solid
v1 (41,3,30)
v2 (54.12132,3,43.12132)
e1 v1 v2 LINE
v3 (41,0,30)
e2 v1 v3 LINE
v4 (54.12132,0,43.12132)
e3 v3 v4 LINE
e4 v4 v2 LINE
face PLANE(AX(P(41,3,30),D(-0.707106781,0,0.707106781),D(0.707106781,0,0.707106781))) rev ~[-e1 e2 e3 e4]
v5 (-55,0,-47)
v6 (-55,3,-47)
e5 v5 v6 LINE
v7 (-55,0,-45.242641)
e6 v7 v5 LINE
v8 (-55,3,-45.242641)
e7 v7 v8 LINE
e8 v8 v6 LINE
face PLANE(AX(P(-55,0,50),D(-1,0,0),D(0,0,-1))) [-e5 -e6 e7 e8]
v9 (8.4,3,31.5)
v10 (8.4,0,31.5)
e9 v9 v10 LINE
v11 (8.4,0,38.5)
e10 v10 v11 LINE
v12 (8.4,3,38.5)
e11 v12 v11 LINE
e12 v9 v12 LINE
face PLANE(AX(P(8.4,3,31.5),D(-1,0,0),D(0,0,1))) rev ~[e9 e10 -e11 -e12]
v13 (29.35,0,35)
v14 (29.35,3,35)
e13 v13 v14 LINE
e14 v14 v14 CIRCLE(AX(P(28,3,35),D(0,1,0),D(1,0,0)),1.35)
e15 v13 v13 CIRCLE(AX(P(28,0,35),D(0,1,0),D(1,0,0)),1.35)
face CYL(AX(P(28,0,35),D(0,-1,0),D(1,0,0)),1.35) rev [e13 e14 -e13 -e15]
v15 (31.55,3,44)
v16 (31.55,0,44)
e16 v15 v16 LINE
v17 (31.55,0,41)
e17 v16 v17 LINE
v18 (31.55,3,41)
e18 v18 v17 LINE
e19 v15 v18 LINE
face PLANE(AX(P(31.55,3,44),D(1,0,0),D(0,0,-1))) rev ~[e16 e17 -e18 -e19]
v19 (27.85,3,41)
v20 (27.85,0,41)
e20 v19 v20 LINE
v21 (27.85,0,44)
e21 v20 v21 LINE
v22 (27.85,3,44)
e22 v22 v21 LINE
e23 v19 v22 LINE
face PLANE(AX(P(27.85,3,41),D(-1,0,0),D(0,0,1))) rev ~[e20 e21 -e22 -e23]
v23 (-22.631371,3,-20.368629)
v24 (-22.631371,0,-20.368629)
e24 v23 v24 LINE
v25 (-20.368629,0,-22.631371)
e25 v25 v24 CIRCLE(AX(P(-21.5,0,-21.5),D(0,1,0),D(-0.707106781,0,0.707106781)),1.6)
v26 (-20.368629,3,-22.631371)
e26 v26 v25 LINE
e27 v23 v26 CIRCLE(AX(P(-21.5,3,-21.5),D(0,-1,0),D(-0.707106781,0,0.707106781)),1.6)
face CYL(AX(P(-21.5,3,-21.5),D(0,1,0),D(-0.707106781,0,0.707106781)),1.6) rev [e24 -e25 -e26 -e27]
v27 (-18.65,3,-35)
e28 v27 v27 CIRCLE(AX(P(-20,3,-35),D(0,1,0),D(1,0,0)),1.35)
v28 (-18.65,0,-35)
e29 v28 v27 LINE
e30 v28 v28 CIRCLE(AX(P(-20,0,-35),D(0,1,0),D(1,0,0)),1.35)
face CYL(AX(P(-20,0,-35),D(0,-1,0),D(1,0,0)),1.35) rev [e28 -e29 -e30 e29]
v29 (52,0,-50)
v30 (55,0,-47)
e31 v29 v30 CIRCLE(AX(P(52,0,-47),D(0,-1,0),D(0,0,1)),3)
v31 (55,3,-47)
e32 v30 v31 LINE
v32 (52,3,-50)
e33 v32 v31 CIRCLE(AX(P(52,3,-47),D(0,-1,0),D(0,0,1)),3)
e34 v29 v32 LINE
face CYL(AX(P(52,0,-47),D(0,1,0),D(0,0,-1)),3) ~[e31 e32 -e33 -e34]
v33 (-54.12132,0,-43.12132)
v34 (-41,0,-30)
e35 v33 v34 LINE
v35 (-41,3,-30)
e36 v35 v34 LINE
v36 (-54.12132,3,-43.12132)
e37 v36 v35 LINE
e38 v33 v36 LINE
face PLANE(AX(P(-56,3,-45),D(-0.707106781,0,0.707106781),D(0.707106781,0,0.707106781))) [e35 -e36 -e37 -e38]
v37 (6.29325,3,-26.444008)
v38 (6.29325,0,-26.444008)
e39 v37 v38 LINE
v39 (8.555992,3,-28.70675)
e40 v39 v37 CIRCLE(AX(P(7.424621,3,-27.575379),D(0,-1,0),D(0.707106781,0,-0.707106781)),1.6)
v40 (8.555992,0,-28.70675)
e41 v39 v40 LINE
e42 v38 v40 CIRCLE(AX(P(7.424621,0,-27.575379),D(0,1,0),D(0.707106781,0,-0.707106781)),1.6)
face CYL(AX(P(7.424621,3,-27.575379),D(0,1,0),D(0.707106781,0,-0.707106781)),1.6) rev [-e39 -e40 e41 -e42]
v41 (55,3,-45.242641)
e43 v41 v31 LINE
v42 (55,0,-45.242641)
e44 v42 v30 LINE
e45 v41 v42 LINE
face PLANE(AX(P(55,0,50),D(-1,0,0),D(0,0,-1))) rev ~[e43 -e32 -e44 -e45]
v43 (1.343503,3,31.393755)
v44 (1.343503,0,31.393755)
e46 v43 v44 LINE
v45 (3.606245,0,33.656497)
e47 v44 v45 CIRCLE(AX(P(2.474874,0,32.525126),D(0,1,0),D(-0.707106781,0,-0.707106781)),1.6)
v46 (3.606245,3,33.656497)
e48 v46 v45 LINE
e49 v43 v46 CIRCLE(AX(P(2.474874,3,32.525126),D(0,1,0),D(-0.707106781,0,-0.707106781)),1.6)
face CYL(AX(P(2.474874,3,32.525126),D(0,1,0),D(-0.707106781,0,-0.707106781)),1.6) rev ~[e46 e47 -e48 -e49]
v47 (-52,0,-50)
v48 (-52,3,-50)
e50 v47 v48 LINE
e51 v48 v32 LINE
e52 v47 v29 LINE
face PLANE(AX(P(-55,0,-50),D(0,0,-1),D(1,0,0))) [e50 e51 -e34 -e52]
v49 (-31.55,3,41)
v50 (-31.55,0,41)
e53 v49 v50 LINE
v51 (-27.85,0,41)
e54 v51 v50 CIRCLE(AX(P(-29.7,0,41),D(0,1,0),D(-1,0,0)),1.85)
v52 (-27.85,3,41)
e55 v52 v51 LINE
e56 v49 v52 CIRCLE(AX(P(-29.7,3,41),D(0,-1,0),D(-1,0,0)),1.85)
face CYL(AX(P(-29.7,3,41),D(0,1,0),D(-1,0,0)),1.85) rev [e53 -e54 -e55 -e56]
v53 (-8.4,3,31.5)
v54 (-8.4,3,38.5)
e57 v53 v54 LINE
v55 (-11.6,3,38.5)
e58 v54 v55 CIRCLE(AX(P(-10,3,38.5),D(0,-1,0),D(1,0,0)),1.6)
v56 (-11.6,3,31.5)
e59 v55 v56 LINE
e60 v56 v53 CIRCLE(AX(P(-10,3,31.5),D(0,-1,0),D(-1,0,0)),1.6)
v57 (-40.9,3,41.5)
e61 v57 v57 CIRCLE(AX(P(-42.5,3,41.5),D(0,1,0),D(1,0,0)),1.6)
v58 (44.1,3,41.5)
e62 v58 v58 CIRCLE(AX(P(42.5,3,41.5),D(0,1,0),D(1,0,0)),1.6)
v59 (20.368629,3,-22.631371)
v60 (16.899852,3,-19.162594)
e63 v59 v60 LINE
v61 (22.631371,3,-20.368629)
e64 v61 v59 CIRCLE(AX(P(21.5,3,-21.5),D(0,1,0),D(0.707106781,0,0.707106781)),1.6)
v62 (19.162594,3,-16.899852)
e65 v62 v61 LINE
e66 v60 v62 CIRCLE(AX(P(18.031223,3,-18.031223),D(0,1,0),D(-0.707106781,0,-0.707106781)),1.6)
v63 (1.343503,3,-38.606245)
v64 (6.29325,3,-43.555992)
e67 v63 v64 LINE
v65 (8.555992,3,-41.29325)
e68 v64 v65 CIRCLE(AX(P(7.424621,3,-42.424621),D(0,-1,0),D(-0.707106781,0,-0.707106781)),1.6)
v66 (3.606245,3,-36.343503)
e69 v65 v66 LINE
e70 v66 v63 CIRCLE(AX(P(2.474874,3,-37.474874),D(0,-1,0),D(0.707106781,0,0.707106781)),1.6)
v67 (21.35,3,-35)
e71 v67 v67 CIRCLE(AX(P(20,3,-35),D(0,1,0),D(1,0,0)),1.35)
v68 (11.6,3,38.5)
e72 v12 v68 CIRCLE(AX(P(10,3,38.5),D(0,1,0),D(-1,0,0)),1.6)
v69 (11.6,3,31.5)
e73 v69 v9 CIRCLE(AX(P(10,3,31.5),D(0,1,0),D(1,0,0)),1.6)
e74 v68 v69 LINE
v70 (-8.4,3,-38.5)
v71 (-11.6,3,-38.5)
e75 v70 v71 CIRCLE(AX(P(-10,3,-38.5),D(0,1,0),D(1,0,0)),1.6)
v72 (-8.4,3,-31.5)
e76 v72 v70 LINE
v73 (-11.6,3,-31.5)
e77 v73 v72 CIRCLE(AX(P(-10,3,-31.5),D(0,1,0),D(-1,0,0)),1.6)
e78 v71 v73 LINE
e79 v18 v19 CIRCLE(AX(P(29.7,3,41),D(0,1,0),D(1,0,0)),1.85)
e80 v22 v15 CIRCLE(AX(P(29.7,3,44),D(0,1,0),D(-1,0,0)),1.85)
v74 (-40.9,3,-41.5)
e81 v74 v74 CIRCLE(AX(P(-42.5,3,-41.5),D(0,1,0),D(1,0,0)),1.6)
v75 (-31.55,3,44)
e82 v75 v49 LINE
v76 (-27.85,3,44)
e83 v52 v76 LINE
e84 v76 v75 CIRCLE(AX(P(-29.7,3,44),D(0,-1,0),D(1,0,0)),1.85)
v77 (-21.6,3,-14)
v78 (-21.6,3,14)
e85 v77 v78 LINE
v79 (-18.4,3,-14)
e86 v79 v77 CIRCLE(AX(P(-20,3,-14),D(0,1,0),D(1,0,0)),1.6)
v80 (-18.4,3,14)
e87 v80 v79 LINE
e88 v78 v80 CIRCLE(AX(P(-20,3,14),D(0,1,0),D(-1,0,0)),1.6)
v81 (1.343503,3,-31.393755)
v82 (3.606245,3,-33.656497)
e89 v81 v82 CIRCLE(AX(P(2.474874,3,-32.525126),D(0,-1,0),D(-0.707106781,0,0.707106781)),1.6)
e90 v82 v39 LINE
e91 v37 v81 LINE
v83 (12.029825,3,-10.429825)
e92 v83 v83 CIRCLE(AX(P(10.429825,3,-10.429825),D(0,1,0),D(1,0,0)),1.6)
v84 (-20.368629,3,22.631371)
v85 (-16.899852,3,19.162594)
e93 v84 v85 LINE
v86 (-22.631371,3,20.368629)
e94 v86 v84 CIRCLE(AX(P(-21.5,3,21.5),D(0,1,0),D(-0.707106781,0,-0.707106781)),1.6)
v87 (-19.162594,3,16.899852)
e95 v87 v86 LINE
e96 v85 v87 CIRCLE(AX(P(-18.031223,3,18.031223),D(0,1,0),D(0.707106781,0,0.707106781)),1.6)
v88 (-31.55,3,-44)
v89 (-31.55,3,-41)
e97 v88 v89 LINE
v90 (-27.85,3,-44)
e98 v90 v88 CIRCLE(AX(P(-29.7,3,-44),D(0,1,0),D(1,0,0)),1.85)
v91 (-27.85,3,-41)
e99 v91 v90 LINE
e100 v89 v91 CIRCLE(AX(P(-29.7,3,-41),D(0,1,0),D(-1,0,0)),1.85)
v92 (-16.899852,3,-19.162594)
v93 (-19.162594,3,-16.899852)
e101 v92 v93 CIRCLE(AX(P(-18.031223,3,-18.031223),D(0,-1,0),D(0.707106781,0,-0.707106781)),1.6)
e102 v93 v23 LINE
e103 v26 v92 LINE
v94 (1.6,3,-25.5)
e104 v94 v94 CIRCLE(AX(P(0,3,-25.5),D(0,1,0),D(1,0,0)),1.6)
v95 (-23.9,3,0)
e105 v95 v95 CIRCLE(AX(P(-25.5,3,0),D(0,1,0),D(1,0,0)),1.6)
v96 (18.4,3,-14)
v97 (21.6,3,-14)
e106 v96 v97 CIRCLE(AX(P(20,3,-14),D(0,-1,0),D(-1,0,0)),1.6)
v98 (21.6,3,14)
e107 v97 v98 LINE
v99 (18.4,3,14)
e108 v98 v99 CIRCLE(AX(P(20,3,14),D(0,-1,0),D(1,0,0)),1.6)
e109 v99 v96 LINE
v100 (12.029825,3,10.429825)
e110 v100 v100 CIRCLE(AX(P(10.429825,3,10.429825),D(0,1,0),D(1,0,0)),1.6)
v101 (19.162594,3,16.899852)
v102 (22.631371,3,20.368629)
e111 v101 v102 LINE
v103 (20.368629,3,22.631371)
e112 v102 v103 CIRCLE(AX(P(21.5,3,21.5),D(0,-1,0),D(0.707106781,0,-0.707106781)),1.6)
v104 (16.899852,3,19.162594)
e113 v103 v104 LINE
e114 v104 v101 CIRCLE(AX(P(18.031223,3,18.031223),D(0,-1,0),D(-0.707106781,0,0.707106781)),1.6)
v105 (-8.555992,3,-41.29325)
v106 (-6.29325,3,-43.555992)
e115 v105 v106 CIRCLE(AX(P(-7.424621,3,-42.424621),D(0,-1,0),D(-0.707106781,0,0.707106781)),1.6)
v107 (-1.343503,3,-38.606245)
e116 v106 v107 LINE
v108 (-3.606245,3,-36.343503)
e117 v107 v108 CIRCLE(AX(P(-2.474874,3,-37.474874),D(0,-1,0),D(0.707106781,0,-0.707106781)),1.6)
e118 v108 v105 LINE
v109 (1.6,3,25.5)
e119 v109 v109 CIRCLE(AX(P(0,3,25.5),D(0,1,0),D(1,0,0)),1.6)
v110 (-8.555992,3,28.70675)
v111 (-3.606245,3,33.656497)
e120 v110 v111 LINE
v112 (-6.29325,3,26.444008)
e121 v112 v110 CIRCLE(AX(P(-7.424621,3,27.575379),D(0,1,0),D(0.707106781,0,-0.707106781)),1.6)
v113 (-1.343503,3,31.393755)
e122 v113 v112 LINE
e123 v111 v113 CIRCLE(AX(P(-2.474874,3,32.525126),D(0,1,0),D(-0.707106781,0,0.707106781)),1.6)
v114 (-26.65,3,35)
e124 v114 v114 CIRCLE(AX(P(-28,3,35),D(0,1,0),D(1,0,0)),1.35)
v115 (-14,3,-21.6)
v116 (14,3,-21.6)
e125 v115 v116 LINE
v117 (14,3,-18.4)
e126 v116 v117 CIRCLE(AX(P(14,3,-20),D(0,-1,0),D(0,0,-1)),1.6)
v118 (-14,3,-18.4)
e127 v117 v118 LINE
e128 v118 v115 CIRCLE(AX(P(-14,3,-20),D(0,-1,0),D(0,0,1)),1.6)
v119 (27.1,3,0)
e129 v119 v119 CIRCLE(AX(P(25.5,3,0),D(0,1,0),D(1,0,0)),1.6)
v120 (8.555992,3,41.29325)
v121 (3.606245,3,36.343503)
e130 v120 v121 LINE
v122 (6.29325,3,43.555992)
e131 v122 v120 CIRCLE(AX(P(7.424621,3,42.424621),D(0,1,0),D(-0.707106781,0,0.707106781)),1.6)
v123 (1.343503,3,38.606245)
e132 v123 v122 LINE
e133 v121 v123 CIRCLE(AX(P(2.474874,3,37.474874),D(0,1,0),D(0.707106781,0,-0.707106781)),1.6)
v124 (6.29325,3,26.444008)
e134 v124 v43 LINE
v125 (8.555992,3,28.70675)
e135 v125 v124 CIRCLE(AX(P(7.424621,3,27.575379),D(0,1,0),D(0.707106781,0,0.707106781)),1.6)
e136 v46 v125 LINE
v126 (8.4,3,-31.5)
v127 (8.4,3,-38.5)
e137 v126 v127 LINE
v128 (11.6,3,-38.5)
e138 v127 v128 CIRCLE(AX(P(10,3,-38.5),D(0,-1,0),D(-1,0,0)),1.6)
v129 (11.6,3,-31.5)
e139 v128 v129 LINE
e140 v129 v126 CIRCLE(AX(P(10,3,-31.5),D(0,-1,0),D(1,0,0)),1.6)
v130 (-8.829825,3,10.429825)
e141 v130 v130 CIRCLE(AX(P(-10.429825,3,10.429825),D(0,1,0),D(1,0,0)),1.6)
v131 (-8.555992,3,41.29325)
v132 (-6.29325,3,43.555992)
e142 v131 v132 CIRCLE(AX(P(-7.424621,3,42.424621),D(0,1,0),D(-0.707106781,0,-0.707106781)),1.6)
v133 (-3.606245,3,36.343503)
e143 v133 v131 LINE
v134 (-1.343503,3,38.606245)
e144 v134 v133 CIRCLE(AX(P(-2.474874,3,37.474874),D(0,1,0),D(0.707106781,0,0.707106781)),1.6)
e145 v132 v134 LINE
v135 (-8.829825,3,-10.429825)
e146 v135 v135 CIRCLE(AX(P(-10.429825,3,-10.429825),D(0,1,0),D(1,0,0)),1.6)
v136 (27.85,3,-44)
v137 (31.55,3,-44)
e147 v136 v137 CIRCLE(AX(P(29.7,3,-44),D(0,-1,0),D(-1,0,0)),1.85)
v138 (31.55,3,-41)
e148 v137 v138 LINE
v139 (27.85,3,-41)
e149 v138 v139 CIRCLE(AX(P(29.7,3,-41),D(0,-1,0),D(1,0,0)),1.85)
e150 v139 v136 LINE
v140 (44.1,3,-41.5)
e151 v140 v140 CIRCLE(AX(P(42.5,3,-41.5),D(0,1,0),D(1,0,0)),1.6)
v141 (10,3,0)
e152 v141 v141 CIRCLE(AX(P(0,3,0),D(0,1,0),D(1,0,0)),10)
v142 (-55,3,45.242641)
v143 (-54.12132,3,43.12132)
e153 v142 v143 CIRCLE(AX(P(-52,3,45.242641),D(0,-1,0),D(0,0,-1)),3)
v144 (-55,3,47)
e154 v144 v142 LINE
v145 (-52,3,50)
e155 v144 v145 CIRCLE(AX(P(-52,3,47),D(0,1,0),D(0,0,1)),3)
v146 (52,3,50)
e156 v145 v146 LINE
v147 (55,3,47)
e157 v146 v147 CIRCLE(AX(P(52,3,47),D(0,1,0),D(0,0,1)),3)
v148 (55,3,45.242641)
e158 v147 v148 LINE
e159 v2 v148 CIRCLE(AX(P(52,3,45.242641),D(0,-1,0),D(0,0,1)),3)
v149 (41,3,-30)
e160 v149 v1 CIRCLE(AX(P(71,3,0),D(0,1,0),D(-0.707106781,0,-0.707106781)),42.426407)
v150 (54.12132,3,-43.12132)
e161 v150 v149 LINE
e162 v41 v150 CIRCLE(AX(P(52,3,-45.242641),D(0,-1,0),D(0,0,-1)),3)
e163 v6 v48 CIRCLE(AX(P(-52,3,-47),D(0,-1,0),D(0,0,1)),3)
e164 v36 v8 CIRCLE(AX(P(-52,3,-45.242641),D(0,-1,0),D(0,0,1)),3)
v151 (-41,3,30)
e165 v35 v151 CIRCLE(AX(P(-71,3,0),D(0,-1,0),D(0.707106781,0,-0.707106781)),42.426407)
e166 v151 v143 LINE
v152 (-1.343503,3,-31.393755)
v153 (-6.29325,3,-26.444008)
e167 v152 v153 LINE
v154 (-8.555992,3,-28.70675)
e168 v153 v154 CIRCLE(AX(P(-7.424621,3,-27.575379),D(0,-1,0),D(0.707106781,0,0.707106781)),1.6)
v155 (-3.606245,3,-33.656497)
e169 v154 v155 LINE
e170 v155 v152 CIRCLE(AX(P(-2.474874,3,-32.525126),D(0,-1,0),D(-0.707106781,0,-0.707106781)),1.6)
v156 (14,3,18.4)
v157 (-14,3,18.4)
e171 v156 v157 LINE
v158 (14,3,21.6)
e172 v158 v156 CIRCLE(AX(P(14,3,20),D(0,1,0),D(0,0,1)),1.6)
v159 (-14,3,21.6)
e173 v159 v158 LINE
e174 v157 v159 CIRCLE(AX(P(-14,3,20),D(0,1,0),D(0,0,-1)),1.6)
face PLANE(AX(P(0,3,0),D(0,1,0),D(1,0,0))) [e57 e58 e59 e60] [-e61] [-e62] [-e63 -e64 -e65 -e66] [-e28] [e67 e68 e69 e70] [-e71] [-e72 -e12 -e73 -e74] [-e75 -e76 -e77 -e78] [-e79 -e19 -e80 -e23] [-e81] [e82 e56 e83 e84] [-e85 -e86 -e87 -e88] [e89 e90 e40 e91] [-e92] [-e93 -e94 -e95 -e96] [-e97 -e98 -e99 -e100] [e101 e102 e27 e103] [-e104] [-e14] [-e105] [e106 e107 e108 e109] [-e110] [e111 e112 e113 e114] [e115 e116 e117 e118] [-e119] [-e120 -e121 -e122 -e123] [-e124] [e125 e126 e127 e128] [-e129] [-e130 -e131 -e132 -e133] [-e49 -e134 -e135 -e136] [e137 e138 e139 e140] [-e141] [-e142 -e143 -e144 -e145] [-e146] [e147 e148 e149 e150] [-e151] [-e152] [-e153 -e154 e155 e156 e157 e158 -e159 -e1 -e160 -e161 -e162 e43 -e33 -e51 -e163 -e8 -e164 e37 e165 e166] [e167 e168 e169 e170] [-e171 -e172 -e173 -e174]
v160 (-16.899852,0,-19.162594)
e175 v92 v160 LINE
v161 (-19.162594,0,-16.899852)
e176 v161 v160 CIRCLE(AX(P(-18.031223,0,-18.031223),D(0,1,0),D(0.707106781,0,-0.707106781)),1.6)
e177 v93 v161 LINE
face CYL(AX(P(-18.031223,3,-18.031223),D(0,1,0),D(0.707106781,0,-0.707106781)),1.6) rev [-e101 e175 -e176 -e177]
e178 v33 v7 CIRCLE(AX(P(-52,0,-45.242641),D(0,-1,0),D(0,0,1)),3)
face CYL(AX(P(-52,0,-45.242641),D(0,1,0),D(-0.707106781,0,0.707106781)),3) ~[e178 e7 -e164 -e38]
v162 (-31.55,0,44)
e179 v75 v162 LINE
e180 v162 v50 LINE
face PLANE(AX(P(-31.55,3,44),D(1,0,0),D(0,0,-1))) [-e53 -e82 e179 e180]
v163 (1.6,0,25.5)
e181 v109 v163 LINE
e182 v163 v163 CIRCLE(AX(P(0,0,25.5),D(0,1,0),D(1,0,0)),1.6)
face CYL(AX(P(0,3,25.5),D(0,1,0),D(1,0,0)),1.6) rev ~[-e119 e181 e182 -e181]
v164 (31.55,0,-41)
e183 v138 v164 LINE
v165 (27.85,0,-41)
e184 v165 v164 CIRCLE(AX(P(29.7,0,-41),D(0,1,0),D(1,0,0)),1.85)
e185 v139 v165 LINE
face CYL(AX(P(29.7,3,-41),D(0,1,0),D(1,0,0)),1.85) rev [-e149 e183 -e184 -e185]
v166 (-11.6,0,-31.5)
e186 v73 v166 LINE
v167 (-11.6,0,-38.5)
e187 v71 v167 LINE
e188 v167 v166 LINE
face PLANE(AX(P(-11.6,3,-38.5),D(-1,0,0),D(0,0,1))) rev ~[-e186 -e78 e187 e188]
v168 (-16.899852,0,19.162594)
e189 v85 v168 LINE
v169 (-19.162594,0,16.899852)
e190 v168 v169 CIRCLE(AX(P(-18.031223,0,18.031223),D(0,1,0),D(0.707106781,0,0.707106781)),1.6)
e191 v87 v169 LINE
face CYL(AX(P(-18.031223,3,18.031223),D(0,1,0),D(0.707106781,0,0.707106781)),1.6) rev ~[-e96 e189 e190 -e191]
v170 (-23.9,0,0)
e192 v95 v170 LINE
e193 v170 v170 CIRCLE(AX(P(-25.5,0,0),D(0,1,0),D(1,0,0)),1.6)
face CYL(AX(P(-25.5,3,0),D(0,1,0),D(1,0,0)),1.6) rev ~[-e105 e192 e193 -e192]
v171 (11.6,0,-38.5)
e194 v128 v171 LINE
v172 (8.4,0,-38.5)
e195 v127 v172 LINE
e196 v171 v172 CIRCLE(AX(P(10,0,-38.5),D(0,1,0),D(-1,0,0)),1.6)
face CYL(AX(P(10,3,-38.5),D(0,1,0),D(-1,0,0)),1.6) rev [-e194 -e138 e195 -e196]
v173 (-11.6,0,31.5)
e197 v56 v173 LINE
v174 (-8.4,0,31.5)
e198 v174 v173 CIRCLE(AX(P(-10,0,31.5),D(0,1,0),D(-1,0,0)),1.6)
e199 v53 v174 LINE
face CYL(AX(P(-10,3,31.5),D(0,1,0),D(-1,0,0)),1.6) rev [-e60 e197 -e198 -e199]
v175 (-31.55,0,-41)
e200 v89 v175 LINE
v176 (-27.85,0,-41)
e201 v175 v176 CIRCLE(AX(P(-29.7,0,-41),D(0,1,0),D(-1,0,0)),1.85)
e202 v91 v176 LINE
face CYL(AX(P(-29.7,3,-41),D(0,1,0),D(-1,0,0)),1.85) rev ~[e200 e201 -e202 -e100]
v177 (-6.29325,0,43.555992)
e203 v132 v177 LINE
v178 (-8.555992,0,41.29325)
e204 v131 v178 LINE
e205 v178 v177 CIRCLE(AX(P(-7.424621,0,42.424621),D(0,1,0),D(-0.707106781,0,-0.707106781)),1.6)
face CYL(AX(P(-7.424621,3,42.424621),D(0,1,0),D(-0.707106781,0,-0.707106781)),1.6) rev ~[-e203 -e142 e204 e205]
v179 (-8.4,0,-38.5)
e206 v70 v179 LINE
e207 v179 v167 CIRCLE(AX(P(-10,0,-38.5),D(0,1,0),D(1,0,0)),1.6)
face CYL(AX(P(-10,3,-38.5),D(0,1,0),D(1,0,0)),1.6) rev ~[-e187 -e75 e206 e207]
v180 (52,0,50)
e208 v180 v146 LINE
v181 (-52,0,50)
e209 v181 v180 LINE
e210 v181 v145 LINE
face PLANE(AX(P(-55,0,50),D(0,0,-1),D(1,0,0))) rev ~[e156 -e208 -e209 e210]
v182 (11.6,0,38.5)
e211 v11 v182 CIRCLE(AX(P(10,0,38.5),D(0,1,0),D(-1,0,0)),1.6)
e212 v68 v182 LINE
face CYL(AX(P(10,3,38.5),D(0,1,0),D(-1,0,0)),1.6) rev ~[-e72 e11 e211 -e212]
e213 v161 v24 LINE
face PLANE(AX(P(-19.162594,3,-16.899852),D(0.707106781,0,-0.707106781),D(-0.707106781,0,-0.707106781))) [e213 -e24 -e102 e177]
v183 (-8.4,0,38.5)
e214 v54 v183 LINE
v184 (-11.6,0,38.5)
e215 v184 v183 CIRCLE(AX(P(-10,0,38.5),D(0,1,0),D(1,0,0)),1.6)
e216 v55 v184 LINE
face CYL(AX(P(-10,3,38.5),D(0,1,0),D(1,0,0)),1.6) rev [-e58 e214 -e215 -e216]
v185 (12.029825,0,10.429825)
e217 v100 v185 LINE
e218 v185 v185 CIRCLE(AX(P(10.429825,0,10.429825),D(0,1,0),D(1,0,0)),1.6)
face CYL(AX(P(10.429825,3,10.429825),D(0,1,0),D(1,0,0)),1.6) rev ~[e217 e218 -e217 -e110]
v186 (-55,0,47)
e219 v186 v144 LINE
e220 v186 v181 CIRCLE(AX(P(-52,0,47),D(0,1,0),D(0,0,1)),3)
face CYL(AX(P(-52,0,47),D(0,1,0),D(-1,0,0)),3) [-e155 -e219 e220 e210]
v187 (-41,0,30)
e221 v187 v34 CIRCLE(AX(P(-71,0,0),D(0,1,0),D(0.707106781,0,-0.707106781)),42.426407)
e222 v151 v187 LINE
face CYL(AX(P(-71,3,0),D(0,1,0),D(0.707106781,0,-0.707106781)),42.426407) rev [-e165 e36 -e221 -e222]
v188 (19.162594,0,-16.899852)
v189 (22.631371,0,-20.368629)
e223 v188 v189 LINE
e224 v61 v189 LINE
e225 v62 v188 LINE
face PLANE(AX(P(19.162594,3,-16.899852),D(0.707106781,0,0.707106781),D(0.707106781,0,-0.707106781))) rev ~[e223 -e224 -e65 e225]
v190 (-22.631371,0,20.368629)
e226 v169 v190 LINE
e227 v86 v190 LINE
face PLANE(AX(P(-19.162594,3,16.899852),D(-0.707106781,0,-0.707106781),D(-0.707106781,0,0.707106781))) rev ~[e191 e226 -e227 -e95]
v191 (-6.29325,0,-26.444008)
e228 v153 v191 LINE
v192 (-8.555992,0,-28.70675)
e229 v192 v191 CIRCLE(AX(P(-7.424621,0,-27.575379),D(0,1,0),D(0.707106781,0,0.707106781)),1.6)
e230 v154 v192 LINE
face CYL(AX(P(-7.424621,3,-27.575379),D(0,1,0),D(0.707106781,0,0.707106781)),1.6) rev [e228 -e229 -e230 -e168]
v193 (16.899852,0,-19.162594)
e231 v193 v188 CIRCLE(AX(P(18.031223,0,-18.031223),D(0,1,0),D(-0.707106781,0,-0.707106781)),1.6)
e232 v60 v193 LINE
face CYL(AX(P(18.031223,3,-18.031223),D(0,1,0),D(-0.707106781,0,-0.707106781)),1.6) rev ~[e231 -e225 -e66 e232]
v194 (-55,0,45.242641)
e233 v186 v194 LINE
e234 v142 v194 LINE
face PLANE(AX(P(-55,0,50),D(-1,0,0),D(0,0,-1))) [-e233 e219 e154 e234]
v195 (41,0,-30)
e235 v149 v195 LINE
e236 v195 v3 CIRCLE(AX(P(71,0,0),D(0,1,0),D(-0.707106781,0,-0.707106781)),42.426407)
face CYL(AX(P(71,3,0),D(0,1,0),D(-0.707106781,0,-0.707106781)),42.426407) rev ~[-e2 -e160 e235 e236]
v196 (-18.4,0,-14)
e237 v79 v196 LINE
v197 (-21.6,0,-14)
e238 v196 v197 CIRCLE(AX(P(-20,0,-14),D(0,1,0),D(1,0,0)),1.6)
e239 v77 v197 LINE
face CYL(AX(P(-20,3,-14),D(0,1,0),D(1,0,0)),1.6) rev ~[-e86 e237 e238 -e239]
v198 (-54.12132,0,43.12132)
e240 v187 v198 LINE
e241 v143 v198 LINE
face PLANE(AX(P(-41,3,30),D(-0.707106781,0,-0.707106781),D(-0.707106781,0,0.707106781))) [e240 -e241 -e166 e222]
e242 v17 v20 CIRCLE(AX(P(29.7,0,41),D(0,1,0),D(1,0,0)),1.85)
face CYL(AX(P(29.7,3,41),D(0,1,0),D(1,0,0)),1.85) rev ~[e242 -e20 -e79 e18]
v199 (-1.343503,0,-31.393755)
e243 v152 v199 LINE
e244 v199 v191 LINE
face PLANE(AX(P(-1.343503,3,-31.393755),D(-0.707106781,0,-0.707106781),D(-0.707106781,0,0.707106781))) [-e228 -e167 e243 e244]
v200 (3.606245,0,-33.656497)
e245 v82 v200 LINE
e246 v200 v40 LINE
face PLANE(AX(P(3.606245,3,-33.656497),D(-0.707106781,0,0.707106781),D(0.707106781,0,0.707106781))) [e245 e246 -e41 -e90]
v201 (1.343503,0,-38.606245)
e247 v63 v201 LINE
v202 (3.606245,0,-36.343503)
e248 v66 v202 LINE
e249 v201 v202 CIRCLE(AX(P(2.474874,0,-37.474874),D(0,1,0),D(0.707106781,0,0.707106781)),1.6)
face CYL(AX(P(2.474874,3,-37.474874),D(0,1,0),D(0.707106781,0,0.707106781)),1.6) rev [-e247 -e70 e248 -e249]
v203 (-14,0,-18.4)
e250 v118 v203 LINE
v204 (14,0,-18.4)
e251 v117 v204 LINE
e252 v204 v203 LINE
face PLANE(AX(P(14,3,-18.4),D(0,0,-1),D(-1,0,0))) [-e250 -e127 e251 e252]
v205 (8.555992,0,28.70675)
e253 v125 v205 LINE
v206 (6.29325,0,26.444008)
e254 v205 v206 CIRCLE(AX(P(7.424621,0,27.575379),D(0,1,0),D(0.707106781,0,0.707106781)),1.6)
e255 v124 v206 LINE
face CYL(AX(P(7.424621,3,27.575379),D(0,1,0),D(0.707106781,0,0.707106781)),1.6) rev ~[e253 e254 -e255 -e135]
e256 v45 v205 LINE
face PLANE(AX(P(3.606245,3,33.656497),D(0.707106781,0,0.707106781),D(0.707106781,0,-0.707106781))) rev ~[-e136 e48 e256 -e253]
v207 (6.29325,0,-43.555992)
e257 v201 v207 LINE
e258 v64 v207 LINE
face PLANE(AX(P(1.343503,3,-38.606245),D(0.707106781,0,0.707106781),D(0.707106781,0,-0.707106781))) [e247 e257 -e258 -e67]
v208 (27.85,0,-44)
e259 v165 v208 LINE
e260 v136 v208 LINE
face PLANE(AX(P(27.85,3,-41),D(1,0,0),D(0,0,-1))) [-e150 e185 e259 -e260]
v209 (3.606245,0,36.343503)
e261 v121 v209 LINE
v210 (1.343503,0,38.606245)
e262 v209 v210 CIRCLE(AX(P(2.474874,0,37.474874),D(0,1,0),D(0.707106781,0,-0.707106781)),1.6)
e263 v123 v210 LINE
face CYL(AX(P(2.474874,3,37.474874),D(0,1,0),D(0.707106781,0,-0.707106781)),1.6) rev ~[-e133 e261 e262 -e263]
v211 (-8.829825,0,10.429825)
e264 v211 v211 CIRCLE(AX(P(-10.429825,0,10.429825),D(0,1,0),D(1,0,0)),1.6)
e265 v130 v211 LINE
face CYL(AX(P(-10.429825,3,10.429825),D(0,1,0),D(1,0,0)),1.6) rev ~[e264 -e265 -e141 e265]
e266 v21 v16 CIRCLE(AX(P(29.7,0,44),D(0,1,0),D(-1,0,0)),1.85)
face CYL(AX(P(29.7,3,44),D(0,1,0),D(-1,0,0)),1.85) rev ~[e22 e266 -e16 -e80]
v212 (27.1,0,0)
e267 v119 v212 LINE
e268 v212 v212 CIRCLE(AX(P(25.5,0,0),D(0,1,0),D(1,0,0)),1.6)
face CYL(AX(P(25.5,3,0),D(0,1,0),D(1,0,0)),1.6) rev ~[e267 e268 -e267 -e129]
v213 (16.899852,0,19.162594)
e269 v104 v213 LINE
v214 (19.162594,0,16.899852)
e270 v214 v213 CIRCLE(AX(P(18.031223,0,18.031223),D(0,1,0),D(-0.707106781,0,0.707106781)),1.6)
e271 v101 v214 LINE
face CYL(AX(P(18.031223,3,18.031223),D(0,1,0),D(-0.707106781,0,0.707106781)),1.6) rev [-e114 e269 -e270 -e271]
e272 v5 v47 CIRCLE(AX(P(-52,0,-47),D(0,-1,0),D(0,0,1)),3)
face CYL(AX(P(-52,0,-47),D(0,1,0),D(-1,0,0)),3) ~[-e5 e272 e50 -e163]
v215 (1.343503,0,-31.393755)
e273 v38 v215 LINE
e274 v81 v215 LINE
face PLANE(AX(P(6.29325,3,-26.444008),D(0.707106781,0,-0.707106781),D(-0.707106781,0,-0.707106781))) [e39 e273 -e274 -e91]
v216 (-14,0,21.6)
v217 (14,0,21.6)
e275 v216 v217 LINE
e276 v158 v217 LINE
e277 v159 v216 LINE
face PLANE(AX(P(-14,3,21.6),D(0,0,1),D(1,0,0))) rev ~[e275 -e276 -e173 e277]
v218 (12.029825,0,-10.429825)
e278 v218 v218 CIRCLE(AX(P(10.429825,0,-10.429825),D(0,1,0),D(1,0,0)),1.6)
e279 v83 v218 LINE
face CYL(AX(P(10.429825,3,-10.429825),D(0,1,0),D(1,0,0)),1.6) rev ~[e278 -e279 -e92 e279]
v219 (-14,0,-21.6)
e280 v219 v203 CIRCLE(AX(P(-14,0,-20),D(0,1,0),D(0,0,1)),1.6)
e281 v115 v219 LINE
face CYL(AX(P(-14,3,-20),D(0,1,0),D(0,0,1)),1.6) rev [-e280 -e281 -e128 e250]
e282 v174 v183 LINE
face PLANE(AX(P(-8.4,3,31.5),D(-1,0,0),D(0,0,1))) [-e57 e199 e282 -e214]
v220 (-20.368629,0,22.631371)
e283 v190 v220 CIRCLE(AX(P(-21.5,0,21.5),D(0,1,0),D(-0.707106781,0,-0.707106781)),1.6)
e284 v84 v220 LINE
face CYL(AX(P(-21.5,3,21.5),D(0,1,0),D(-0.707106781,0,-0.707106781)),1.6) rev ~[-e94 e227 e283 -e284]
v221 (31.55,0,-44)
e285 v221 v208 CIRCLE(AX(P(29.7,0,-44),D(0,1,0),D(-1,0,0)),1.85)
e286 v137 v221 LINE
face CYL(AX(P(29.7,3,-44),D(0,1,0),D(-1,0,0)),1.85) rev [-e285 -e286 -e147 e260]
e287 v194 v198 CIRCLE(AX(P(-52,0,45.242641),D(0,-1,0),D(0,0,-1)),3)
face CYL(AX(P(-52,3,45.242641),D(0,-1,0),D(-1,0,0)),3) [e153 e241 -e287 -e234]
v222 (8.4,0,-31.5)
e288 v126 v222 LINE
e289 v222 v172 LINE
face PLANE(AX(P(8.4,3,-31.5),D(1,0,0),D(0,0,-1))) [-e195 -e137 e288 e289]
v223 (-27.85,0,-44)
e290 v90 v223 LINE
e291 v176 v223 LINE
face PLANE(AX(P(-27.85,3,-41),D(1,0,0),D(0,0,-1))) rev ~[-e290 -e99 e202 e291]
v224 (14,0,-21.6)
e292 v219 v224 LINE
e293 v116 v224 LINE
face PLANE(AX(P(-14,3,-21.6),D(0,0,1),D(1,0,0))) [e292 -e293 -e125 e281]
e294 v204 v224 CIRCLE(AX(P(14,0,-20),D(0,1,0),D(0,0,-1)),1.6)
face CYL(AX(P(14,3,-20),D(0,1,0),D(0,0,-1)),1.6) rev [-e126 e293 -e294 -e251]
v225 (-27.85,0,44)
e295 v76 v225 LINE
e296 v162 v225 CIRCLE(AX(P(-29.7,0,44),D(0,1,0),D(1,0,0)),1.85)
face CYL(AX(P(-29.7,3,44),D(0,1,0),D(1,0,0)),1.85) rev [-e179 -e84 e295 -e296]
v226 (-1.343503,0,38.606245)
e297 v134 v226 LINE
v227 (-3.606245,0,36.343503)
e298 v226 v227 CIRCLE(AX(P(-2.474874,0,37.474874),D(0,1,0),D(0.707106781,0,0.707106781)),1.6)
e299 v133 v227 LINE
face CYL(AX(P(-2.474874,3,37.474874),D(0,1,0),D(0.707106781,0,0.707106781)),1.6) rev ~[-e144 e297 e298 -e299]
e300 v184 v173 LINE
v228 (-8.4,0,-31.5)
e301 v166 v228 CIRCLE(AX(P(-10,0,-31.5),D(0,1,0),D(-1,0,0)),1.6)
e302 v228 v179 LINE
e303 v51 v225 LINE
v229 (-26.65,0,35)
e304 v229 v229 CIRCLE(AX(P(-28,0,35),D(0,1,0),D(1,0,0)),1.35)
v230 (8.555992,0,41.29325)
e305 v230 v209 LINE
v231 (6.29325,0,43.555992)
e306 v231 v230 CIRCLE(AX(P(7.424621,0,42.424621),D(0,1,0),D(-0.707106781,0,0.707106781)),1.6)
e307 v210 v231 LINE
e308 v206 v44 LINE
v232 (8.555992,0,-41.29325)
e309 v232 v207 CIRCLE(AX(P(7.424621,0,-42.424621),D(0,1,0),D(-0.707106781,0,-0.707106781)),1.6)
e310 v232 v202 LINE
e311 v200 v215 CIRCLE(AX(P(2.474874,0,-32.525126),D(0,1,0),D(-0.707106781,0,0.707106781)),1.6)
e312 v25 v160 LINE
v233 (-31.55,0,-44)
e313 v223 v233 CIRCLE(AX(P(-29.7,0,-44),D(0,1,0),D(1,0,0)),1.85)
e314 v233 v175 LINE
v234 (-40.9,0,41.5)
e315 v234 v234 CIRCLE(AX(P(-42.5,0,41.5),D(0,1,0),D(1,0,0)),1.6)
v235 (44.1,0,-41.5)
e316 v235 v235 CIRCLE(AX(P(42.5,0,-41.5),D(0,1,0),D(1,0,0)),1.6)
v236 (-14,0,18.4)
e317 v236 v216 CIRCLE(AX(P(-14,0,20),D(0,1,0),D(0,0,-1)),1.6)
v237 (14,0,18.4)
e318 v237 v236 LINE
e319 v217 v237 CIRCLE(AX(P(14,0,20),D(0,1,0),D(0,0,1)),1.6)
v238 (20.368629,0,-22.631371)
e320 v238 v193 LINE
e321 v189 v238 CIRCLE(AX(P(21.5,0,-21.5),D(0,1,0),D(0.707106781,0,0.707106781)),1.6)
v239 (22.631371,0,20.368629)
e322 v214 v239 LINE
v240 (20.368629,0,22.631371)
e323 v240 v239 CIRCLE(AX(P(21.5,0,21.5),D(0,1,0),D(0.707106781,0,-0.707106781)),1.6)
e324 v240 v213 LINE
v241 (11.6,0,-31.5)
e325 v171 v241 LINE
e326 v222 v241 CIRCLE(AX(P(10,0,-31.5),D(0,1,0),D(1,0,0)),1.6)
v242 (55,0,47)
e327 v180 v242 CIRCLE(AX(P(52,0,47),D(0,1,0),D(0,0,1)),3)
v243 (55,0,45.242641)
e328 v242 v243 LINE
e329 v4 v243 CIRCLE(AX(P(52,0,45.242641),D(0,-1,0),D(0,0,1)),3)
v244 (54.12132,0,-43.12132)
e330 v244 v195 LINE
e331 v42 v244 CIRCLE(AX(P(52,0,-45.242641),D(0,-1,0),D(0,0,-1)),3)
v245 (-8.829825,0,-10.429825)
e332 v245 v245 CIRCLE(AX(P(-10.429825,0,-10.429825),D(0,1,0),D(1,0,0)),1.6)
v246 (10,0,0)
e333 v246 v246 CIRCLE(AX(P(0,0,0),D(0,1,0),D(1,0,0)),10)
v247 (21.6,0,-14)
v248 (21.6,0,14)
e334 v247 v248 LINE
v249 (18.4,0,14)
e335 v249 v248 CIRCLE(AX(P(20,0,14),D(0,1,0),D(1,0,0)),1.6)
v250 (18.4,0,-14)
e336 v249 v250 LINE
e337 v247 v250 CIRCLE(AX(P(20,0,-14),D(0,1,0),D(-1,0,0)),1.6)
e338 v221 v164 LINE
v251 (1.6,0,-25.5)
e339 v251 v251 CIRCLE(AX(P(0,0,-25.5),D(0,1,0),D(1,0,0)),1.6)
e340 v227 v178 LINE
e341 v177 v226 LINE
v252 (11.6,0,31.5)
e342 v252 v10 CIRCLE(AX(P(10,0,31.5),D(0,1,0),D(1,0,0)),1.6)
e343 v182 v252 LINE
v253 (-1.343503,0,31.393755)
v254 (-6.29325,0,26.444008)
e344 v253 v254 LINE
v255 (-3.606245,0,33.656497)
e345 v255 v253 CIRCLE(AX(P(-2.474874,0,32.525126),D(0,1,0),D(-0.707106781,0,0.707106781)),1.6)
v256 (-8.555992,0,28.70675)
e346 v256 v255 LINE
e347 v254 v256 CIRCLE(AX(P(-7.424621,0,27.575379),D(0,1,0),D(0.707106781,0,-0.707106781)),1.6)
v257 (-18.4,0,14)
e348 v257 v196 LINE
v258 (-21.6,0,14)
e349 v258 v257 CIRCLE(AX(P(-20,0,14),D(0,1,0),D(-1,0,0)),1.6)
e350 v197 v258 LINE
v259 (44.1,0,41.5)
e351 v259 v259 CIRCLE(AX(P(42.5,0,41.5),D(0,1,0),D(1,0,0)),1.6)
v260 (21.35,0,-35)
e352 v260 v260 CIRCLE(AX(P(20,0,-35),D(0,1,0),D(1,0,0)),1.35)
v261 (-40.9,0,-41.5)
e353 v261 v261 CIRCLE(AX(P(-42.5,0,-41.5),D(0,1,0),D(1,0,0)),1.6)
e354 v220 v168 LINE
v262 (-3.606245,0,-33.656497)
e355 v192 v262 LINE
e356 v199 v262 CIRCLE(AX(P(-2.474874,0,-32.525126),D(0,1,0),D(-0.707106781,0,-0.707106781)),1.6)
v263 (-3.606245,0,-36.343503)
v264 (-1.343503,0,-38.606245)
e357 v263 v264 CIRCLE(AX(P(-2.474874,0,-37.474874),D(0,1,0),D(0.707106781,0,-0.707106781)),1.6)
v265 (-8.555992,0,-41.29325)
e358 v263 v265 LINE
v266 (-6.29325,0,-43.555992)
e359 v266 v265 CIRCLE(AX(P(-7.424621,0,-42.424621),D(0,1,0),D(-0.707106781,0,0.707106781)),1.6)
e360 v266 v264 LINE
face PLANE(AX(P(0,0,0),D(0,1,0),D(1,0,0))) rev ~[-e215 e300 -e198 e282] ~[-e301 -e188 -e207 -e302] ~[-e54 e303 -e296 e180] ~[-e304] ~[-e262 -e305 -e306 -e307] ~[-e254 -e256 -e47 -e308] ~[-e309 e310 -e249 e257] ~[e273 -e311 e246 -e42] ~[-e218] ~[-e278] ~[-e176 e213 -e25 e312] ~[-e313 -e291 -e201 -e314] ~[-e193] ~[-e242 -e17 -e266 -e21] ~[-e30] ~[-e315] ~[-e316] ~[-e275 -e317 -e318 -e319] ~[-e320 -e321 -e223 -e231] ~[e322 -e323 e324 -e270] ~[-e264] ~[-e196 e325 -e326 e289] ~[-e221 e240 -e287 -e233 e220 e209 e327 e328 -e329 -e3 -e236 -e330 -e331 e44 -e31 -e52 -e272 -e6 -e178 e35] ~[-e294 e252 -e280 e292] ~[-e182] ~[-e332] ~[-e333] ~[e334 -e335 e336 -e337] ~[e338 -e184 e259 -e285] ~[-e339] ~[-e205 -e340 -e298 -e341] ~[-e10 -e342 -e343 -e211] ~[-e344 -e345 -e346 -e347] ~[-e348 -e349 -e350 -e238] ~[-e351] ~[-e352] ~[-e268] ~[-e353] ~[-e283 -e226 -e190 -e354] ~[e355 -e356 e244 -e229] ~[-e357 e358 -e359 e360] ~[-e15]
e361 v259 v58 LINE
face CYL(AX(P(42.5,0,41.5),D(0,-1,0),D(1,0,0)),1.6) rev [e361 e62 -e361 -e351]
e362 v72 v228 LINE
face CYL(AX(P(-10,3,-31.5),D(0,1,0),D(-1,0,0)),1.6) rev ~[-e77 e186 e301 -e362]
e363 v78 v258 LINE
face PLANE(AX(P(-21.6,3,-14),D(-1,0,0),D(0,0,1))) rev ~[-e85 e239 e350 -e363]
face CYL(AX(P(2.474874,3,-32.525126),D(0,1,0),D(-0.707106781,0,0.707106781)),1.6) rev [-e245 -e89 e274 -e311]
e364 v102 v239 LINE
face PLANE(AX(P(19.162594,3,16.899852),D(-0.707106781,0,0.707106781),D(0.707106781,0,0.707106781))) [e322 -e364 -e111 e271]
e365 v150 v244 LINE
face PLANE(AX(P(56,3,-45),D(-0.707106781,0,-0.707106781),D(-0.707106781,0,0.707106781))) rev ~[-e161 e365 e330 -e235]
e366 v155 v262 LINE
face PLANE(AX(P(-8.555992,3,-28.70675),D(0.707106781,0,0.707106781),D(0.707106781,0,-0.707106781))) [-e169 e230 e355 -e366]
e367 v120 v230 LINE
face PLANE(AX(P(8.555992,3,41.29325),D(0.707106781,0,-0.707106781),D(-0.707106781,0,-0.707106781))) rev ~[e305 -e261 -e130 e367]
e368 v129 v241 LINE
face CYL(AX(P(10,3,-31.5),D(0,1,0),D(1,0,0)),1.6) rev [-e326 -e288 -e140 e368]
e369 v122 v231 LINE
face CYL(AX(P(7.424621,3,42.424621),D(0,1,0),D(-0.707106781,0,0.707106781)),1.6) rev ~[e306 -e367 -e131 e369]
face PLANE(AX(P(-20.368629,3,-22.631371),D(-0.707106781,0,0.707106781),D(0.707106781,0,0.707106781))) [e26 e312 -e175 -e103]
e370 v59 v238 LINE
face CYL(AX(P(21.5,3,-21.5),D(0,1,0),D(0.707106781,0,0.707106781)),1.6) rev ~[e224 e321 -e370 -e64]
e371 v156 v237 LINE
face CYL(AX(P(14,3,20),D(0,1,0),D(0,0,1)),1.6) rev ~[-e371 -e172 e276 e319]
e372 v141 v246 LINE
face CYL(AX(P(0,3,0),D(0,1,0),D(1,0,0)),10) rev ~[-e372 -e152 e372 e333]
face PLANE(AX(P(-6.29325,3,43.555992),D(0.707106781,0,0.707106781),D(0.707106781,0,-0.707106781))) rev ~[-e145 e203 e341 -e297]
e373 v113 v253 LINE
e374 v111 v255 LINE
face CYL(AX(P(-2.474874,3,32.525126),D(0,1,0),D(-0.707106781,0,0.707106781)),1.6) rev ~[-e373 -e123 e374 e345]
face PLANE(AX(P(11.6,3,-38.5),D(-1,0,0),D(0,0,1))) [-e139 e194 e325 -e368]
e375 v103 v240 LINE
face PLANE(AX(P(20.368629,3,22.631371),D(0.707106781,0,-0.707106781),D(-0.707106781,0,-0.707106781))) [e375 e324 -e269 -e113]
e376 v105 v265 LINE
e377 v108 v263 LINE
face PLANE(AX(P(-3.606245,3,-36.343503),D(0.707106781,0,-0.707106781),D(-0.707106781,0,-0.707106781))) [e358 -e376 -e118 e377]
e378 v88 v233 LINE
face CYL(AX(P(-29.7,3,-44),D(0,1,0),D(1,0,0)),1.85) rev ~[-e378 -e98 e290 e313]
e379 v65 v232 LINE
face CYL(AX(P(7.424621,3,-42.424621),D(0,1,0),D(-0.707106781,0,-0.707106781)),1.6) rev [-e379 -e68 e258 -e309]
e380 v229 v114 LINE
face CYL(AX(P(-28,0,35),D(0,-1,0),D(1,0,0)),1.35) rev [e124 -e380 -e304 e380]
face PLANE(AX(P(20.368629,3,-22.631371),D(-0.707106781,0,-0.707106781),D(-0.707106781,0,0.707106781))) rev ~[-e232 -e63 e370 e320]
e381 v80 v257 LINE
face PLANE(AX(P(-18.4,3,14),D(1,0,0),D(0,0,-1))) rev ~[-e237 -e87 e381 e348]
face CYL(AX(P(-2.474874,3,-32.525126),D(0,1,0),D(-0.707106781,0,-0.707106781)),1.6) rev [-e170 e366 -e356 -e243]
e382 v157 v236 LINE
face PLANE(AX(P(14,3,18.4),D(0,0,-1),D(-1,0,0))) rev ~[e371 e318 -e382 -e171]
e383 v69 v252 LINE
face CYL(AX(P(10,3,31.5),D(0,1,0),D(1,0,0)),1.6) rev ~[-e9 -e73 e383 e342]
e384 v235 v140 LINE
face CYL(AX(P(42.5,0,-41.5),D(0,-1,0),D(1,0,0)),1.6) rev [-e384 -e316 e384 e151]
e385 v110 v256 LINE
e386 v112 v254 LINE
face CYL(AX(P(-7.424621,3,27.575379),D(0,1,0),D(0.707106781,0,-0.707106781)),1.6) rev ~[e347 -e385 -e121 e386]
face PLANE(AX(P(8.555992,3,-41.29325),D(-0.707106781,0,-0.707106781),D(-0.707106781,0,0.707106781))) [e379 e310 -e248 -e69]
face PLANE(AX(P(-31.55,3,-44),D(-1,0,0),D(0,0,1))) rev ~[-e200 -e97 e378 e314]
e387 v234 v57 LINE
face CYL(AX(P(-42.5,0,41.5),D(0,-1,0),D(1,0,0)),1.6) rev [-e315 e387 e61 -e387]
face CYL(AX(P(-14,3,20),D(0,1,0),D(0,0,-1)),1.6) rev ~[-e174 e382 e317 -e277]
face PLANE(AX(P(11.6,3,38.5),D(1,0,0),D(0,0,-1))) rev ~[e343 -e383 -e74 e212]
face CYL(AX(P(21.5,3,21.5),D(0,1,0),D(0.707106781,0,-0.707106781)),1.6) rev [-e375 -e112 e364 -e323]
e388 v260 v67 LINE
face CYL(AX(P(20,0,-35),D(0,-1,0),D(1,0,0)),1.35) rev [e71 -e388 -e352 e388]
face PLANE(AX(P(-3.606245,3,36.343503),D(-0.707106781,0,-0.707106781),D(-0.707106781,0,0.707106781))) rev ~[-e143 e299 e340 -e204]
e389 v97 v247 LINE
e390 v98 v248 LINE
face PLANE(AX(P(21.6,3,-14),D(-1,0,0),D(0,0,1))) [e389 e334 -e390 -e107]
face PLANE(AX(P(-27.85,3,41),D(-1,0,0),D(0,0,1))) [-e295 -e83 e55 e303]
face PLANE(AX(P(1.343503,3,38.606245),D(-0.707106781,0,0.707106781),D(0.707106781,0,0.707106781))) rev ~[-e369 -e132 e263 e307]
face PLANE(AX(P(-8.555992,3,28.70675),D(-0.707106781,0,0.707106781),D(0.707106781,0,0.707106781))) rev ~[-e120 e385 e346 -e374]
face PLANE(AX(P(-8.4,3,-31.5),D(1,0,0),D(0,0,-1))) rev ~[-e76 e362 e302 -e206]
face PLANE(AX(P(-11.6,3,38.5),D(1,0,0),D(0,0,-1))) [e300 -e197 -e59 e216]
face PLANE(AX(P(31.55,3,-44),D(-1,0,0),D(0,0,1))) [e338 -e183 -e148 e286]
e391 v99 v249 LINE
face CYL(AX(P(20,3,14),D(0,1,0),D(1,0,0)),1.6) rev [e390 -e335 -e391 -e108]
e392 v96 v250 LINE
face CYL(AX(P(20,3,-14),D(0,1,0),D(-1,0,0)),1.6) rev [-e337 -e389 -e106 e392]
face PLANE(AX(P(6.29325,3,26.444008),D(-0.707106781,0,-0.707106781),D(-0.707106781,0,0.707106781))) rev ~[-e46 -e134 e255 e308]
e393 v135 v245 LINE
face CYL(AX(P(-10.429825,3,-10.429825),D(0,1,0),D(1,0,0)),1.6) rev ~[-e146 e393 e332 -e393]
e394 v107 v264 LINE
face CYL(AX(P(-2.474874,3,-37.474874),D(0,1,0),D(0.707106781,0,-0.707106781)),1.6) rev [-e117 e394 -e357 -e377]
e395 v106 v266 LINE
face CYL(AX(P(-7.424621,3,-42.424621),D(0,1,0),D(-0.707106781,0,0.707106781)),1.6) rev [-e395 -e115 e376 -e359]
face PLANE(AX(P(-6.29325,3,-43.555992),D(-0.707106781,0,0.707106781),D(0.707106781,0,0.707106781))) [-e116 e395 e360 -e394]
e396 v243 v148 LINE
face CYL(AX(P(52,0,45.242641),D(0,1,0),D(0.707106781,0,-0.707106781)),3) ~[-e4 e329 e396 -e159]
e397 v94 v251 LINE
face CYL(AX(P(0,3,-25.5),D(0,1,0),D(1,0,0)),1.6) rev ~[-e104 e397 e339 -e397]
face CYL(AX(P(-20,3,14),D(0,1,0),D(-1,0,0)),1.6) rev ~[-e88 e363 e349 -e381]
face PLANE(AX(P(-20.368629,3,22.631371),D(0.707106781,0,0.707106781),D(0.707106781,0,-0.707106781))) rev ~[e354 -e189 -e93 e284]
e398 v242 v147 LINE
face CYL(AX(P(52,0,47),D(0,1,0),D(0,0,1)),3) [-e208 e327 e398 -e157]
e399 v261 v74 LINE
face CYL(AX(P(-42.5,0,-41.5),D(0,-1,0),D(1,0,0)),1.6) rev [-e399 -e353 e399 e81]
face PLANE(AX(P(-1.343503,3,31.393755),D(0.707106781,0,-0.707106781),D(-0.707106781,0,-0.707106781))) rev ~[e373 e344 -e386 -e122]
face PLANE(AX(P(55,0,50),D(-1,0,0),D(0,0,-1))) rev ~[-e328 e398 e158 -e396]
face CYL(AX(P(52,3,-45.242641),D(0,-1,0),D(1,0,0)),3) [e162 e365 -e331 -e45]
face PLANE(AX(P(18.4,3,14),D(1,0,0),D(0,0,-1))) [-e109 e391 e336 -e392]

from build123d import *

# Parameters (mm, degrees)
SKETCH1_W           = 110
SKETCH1_H           = 100
SKETCH1_R           = 1.6
SKETCH1_R_2         = 1.35
BOSS_EXTRUDE1_DEPTH = 3
SKETCH2_R           = 10
SKETCH2_R_2         = 1.6
CUT_EXTRUDE1_DEPTH  = 4
CUT_EXTRUDE2_DEPTH  = 4
FILLET2_R           = 3
CUT_EXTRUDE_1_DEPTH = 4


with BuildPart() as part:
    # Sketch1 → Boss-Extrude1 (new body)
    with BuildSketch(Plane(origin=(0, 0, 0), x_dir=(1, 0, 0), z_dir=(0, 1, 0))):
        Rectangle(SKETCH1_W, SKETCH1_H)
        with Locations((42.5, 41.5)):
            Circle(SKETCH1_R, mode=Mode.SUBTRACT)
        with Locations((20, 35)):
            Circle(SKETCH1_R_2, mode=Mode.SUBTRACT)
        with Locations((-20, 35)):
            Circle(SKETCH1_R_2, mode=Mode.SUBTRACT)
        with Locations((28, -35)):
            Circle(SKETCH1_R_2, mode=Mode.SUBTRACT)
        with Locations((-28, -35)):
            Circle(SKETCH1_R_2, mode=Mode.SUBTRACT)
        with Locations((-42.5, 41.5)):
            Circle(SKETCH1_R, mode=Mode.SUBTRACT)
        with Locations((42.5, -41.5)):
            Circle(SKETCH1_R, mode=Mode.SUBTRACT)
        with Locations((-42.5, -41.5)):
            Circle(SKETCH1_R, mode=Mode.SUBTRACT)
    extrude(amount=BOSS_EXTRUDE1_DEPTH)

    # Sketch2 → Cut-Extrude1 (cut, through all)
    with BuildSketch(Plane(origin=(0, 3, 0), x_dir=(1, 0, 0), z_dir=(0, 1, 0))):
        Circle(SKETCH2_R)
        with Locations((-10.429825023, -10.429825023)):
            Circle(SKETCH2_R_2)
        with Locations((10.429825023, -10.429825023)):
            Circle(SKETCH2_R_2)
        with Locations((-10.429825023, 10.429825023)):
            Circle(SKETCH2_R_2)
        with Locations((10.429825023, 10.429825023)):
            Circle(SKETCH2_R_2)
        with Locations((25.5, 0)):
            Circle(SKETCH2_R_2)
        with Locations((0, -25.5)):
            Circle(SKETCH2_R_2)
        with Locations((-25.5, 0)):
            Circle(SKETCH2_R_2)
        with Locations((0, 25.5)):
            Circle(SKETCH2_R_2)
        with BuildLine():
            Line((-14, 21.6), (14, 21.6))
            ThreePointArc((14, 21.6), (15.6, 20), (14, 18.4))
            Line((14, 18.4), (-14, 18.4))
            ThreePointArc((-14, 18.4), (-15.6, 20), (-14, 21.6))
        make_face()
        with BuildLine():
            Line((-14, -21.6), (14, -21.6))
            ThreePointArc((14, -21.6), (15.6, -20), (14, -18.4))
            Line((14, -18.4), (-14, -18.4))
            ThreePointArc((-14, -18.4), (-15.6, -20), (-14, -21.6))
        make_face()
        with BuildLine():
            Line((21.6, 14), (21.6, -14))
            ThreePointArc((21.6, -14), (20, -15.6), (18.4, -14))
            Line((18.4, -14), (18.4, 14))
            ThreePointArc((18.4, 14), (20, 15.6), (21.6, 14))
        make_face()
        with BuildLine():
            Line((-21.6, 14), (-21.6, -14))
            ThreePointArc((-21.6, -14), (-20, -15.6), (-18.4, -14))
            Line((-18.4, -14), (-18.4, 14))
            ThreePointArc((-18.4, 14), (-20, 15.6), (-21.6, 14))
        make_face()
        with BuildLine():
            Line((-20.36862915, 22.63137085), (-16.89985207, 19.16259377))
            ThreePointArc((-16.89985207, 19.16259377), (-16.89985207, 16.89985207), (-19.16259377, 16.89985207))
            Line((-19.16259377, 16.89985207), (-22.63137085, 20.36862915))
            ThreePointArc((-22.63137085, 20.36862915), (-22.63137085, 22.63137085), (-20.36862915, 22.63137085))
        make_face()
        with BuildLine():
            Line((20.36862915, 22.63137085), (16.89985207, 19.16259377))
            ThreePointArc((16.89985207, 19.16259377), (16.89985207, 16.89985207), (19.16259377, 16.89985207))
            Line((19.16259377, 16.89985207), (22.63137085, 20.36862915))
            ThreePointArc((22.63137085, 20.36862915), (22.63137085, 22.63137085), (20.36862915, 22.63137085))
        make_face()
        with BuildLine():
            Line((20.36862915, -22.63137085), (16.89985207, -19.16259377))
            ThreePointArc((16.89985207, -19.16259377), (16.89985207, -16.89985207), (19.16259377, -16.89985207))
            Line((19.16259377, -16.89985207), (22.63137085, -20.36862915))
            ThreePointArc((22.63137085, -20.36862915), (22.63137085, -22.63137085), (20.36862915, -22.63137085))
        make_face()
        with BuildLine():
            Line((-20.36862915, -22.63137085), (-16.89985207, -19.16259377))
            ThreePointArc((-16.89985207, -19.16259377), (-16.89985207, -16.89985207), (-19.16259377, -16.89985207))
            Line((-19.16259377, -16.89985207), (-22.63137085, -20.36862915))
            ThreePointArc((-22.63137085, -20.36862915), (-22.63137085, -22.63137085), (-20.36862915, -22.63137085))
        make_face()
    extrude(amount=-CUT_EXTRUDE1_DEPTH, mode=Mode.SUBTRACT)

    # Sketch3 → Cut-Extrude2 (cut, through all)
    with BuildSketch(Plane(origin=(0, 3, 0), x_dir=(1, 0, 0), z_dir=(0, 1, 0))):
        with BuildLine():
            Line((3.606244584, 33.656497116), (8.555992052, 28.706749647))
            ThreePointArc((8.555992052, 28.706749647), (8.555992052, 26.444007948), (6.293250353, 26.444007948))
            Line((6.293250353, 26.444007948), (1.343502884, 31.393755416))
            ThreePointArc((1.343502884, 31.393755416), (1.343502884, 33.656497116), (3.606244584, 33.656497116))
        make_face()
        with BuildLine():
            Line((-1.343502884, 31.393755416), (-6.293250353, 26.444007948))
            ThreePointArc((-6.293250353, 26.444007948), (-8.555992052, 26.444007948), (-8.555992052, 28.706749647))
            Line((-8.555992052, 28.706749647), (-3.606244584, 33.656497116))
            ThreePointArc((-3.606244584, 33.656497116), (-1.343502884, 33.656497116), (-1.343502884, 31.393755416))
        make_face()
        with BuildLine():
            Line((-3.606244584, 36.343502884), (-8.555992052, 41.293250353))
            ThreePointArc((-8.555992052, 41.293250353), (-8.555992052, 43.555992052), (-6.293250353, 43.555992052))
            Line((-6.293250353, 43.555992052), (-1.343502884, 38.606244584))
            ThreePointArc((-1.343502884, 38.606244584), (-1.343502884, 36.343502884), (-3.606244584, 36.343502884))
        make_face()
        with BuildLine():
            Line((1.343502884, 38.606244584), (6.293250353, 43.555992052))
            ThreePointArc((6.293250353, 43.555992052), (8.555992052, 43.555992052), (8.555992052, 41.293250353))
            Line((8.555992052, 41.293250353), (3.606244584, 36.343502884))
            ThreePointArc((3.606244584, 36.343502884), (1.343502884, 36.343502884), (1.343502884, 38.606244584))
        make_face()
        with BuildLine():
            Line((11.6, 38.5), (11.6, 31.5))
            ThreePointArc((11.6, 31.5), (10, 29.9), (8.4, 31.5))
            Line((8.4, 31.5), (8.4, 38.5))
            ThreePointArc((8.4, 38.5), (10, 40.1), (11.6, 38.5))
        make_face()
        with BuildLine():
            Line((-11.6, 38.5), (-11.6, 31.5))
            ThreePointArc((-11.6, 31.5), (-10, 29.9), (-8.4, 31.5))
            Line((-8.4, 31.5), (-8.4, 38.5))
            ThreePointArc((-8.4, 38.5), (-10, 40.1), (-11.6, 38.5))
        make_face()
        with BuildLine():
            Line((3.606244584, -33.656497116), (8.555992052, -28.706749647))
            ThreePointArc((8.555992052, -28.706749647), (8.555992052, -26.444007948), (6.293250353, -26.444007948))
            Line((6.293250353, -26.444007948), (1.343502884, -31.393755416))
            ThreePointArc((1.343502884, -31.393755416), (1.343502884, -33.656497116), (3.606244584, -33.656497116))
        make_face()
        with BuildLine():
            Line((11.6, -38.5), (11.6, -31.5))
            ThreePointArc((11.6, -31.5), (10, -29.9), (8.4, -31.5))
            Line((8.4, -31.5), (8.4, -38.5))
            ThreePointArc((8.4, -38.5), (10, -40.1), (11.6, -38.5))
        make_face()
        with BuildLine():
            Line((1.343502884, -38.606244584), (6.293250353, -43.555992052))
            ThreePointArc((6.293250353, -43.555992052), (8.555992052, -43.555992052), (8.555992052, -41.293250353))
            Line((8.555992052, -41.293250353), (3.606244584, -36.343502884))
            ThreePointArc((3.606244584, -36.343502884), (1.343502884, -36.343502884), (1.343502884, -38.606244584))
        make_face()
        with BuildLine():
            Line((-1.343502884, -31.393755416), (-6.293250353, -26.444007948))
            ThreePointArc((-6.293250353, -26.444007948), (-8.555992052, -26.444007948), (-8.555992052, -28.706749647))
            Line((-8.555992052, -28.706749647), (-3.606244584, -33.656497116))
            ThreePointArc((-3.606244584, -33.656497116), (-1.343502884, -33.656497116), (-1.343502884, -31.393755416))
        make_face()
        with BuildLine():
            Line((-11.6, -38.5), (-11.6, -31.5))
            ThreePointArc((-11.6, -31.5), (-10, -29.9), (-8.4, -31.5))
            Line((-8.4, -31.5), (-8.4, -38.5))
            ThreePointArc((-8.4, -38.5), (-10, -40.1), (-11.6, -38.5))
        make_face()
        with BuildLine():
            Line((-3.606244584, -36.343502884), (-8.555992052, -41.293250353))
            ThreePointArc((-8.555992052, -41.293250353), (-8.555992052, -43.555992052), (-6.293250353, -43.555992052))
            Line((-6.293250353, -43.555992052), (-1.343502884, -38.606244584))
            ThreePointArc((-1.343502884, -38.606244584), (-1.343502884, -36.343502884), (-3.606244584, -36.343502884))
        make_face()
        with BuildLine():
            Line((-56, 45), (-41, 30))
            ThreePointArc((-41, 30), (-28.573593129, 0), (-41, -30))
            Line((-41, -30), (-56, -45))
            Line((-56, -45), (-56, 45))
        make_face()
        with BuildLine():
            Line((56, 45), (41, 30))
            ThreePointArc((41, 30), (28.573593129, 0), (41, -30))
            Line((41, -30), (56, -45))
            Line((56, -45), (56, 45))
        make_face()
    extrude(amount=-CUT_EXTRUDE2_DEPTH, mode=Mode.SUBTRACT)

    # Fillet2
    fillet2_edges = [part.edges().sort_by_distance(p)[0] for p in [
        (-55, 1.5, 44),
        (-55, 1.5, -44),
        (55, 1.5, 44),
        (55, 1.5, -44),
        (55, 1.5, 50),
        (-55, 1.5, 50),
        (-55, 1.5, -50),
        (55, 1.5, -50),
    ]]
    fillet(fillet2_edges, radius=FILLET2_R)

    # 草图1 → 切除-拉伸1 (cut, through all)
    with BuildSketch(Plane(origin=(0, 3, 0), x_dir=(1, 0, 0), z_dir=(0, 1, 0))):
        with BuildLine():
            Line((-27.85, -41), (-27.85, -44))
            ThreePointArc((-27.85, -44), (-29.7, -45.85), (-31.55, -44))
            Line((-31.55, -44), (-31.55, -41))
            ThreePointArc((-31.55, -41), (-29.7, -39.15), (-27.85, -41))
        make_face()
        with BuildLine():
            Line((27.85, -41), (27.85, -44))
            ThreePointArc((27.85, -44), (29.7, -45.85), (31.55, -44))
            Line((31.55, -44), (31.55, -41))
            ThreePointArc((31.55, -41), (29.7, -39.15), (27.85, -41))
        make_face()
        with BuildLine():
            Line((27.85, 41), (27.85, 44))
            ThreePointArc((27.85, 44), (29.7, 45.85), (31.55, 44))
            Line((31.55, 44), (31.55, 41))
            ThreePointArc((31.55, 41), (29.7, 39.15), (27.85, 41))
        make_face()
        with BuildLine():
            Line((-27.85, 41), (-27.85, 44))
            ThreePointArc((-27.85, 44), (-29.7, 45.85), (-31.55, 44))
            Line((-31.55, 44), (-31.55, 41))
            ThreePointArc((-31.55, 41), (-29.7, 39.15), (-27.85, 41))
        make_face()
    extrude(amount=-CUT_EXTRUDE_1_DEPTH, mode=Mode.SUBTRACT)


solid = part.part
